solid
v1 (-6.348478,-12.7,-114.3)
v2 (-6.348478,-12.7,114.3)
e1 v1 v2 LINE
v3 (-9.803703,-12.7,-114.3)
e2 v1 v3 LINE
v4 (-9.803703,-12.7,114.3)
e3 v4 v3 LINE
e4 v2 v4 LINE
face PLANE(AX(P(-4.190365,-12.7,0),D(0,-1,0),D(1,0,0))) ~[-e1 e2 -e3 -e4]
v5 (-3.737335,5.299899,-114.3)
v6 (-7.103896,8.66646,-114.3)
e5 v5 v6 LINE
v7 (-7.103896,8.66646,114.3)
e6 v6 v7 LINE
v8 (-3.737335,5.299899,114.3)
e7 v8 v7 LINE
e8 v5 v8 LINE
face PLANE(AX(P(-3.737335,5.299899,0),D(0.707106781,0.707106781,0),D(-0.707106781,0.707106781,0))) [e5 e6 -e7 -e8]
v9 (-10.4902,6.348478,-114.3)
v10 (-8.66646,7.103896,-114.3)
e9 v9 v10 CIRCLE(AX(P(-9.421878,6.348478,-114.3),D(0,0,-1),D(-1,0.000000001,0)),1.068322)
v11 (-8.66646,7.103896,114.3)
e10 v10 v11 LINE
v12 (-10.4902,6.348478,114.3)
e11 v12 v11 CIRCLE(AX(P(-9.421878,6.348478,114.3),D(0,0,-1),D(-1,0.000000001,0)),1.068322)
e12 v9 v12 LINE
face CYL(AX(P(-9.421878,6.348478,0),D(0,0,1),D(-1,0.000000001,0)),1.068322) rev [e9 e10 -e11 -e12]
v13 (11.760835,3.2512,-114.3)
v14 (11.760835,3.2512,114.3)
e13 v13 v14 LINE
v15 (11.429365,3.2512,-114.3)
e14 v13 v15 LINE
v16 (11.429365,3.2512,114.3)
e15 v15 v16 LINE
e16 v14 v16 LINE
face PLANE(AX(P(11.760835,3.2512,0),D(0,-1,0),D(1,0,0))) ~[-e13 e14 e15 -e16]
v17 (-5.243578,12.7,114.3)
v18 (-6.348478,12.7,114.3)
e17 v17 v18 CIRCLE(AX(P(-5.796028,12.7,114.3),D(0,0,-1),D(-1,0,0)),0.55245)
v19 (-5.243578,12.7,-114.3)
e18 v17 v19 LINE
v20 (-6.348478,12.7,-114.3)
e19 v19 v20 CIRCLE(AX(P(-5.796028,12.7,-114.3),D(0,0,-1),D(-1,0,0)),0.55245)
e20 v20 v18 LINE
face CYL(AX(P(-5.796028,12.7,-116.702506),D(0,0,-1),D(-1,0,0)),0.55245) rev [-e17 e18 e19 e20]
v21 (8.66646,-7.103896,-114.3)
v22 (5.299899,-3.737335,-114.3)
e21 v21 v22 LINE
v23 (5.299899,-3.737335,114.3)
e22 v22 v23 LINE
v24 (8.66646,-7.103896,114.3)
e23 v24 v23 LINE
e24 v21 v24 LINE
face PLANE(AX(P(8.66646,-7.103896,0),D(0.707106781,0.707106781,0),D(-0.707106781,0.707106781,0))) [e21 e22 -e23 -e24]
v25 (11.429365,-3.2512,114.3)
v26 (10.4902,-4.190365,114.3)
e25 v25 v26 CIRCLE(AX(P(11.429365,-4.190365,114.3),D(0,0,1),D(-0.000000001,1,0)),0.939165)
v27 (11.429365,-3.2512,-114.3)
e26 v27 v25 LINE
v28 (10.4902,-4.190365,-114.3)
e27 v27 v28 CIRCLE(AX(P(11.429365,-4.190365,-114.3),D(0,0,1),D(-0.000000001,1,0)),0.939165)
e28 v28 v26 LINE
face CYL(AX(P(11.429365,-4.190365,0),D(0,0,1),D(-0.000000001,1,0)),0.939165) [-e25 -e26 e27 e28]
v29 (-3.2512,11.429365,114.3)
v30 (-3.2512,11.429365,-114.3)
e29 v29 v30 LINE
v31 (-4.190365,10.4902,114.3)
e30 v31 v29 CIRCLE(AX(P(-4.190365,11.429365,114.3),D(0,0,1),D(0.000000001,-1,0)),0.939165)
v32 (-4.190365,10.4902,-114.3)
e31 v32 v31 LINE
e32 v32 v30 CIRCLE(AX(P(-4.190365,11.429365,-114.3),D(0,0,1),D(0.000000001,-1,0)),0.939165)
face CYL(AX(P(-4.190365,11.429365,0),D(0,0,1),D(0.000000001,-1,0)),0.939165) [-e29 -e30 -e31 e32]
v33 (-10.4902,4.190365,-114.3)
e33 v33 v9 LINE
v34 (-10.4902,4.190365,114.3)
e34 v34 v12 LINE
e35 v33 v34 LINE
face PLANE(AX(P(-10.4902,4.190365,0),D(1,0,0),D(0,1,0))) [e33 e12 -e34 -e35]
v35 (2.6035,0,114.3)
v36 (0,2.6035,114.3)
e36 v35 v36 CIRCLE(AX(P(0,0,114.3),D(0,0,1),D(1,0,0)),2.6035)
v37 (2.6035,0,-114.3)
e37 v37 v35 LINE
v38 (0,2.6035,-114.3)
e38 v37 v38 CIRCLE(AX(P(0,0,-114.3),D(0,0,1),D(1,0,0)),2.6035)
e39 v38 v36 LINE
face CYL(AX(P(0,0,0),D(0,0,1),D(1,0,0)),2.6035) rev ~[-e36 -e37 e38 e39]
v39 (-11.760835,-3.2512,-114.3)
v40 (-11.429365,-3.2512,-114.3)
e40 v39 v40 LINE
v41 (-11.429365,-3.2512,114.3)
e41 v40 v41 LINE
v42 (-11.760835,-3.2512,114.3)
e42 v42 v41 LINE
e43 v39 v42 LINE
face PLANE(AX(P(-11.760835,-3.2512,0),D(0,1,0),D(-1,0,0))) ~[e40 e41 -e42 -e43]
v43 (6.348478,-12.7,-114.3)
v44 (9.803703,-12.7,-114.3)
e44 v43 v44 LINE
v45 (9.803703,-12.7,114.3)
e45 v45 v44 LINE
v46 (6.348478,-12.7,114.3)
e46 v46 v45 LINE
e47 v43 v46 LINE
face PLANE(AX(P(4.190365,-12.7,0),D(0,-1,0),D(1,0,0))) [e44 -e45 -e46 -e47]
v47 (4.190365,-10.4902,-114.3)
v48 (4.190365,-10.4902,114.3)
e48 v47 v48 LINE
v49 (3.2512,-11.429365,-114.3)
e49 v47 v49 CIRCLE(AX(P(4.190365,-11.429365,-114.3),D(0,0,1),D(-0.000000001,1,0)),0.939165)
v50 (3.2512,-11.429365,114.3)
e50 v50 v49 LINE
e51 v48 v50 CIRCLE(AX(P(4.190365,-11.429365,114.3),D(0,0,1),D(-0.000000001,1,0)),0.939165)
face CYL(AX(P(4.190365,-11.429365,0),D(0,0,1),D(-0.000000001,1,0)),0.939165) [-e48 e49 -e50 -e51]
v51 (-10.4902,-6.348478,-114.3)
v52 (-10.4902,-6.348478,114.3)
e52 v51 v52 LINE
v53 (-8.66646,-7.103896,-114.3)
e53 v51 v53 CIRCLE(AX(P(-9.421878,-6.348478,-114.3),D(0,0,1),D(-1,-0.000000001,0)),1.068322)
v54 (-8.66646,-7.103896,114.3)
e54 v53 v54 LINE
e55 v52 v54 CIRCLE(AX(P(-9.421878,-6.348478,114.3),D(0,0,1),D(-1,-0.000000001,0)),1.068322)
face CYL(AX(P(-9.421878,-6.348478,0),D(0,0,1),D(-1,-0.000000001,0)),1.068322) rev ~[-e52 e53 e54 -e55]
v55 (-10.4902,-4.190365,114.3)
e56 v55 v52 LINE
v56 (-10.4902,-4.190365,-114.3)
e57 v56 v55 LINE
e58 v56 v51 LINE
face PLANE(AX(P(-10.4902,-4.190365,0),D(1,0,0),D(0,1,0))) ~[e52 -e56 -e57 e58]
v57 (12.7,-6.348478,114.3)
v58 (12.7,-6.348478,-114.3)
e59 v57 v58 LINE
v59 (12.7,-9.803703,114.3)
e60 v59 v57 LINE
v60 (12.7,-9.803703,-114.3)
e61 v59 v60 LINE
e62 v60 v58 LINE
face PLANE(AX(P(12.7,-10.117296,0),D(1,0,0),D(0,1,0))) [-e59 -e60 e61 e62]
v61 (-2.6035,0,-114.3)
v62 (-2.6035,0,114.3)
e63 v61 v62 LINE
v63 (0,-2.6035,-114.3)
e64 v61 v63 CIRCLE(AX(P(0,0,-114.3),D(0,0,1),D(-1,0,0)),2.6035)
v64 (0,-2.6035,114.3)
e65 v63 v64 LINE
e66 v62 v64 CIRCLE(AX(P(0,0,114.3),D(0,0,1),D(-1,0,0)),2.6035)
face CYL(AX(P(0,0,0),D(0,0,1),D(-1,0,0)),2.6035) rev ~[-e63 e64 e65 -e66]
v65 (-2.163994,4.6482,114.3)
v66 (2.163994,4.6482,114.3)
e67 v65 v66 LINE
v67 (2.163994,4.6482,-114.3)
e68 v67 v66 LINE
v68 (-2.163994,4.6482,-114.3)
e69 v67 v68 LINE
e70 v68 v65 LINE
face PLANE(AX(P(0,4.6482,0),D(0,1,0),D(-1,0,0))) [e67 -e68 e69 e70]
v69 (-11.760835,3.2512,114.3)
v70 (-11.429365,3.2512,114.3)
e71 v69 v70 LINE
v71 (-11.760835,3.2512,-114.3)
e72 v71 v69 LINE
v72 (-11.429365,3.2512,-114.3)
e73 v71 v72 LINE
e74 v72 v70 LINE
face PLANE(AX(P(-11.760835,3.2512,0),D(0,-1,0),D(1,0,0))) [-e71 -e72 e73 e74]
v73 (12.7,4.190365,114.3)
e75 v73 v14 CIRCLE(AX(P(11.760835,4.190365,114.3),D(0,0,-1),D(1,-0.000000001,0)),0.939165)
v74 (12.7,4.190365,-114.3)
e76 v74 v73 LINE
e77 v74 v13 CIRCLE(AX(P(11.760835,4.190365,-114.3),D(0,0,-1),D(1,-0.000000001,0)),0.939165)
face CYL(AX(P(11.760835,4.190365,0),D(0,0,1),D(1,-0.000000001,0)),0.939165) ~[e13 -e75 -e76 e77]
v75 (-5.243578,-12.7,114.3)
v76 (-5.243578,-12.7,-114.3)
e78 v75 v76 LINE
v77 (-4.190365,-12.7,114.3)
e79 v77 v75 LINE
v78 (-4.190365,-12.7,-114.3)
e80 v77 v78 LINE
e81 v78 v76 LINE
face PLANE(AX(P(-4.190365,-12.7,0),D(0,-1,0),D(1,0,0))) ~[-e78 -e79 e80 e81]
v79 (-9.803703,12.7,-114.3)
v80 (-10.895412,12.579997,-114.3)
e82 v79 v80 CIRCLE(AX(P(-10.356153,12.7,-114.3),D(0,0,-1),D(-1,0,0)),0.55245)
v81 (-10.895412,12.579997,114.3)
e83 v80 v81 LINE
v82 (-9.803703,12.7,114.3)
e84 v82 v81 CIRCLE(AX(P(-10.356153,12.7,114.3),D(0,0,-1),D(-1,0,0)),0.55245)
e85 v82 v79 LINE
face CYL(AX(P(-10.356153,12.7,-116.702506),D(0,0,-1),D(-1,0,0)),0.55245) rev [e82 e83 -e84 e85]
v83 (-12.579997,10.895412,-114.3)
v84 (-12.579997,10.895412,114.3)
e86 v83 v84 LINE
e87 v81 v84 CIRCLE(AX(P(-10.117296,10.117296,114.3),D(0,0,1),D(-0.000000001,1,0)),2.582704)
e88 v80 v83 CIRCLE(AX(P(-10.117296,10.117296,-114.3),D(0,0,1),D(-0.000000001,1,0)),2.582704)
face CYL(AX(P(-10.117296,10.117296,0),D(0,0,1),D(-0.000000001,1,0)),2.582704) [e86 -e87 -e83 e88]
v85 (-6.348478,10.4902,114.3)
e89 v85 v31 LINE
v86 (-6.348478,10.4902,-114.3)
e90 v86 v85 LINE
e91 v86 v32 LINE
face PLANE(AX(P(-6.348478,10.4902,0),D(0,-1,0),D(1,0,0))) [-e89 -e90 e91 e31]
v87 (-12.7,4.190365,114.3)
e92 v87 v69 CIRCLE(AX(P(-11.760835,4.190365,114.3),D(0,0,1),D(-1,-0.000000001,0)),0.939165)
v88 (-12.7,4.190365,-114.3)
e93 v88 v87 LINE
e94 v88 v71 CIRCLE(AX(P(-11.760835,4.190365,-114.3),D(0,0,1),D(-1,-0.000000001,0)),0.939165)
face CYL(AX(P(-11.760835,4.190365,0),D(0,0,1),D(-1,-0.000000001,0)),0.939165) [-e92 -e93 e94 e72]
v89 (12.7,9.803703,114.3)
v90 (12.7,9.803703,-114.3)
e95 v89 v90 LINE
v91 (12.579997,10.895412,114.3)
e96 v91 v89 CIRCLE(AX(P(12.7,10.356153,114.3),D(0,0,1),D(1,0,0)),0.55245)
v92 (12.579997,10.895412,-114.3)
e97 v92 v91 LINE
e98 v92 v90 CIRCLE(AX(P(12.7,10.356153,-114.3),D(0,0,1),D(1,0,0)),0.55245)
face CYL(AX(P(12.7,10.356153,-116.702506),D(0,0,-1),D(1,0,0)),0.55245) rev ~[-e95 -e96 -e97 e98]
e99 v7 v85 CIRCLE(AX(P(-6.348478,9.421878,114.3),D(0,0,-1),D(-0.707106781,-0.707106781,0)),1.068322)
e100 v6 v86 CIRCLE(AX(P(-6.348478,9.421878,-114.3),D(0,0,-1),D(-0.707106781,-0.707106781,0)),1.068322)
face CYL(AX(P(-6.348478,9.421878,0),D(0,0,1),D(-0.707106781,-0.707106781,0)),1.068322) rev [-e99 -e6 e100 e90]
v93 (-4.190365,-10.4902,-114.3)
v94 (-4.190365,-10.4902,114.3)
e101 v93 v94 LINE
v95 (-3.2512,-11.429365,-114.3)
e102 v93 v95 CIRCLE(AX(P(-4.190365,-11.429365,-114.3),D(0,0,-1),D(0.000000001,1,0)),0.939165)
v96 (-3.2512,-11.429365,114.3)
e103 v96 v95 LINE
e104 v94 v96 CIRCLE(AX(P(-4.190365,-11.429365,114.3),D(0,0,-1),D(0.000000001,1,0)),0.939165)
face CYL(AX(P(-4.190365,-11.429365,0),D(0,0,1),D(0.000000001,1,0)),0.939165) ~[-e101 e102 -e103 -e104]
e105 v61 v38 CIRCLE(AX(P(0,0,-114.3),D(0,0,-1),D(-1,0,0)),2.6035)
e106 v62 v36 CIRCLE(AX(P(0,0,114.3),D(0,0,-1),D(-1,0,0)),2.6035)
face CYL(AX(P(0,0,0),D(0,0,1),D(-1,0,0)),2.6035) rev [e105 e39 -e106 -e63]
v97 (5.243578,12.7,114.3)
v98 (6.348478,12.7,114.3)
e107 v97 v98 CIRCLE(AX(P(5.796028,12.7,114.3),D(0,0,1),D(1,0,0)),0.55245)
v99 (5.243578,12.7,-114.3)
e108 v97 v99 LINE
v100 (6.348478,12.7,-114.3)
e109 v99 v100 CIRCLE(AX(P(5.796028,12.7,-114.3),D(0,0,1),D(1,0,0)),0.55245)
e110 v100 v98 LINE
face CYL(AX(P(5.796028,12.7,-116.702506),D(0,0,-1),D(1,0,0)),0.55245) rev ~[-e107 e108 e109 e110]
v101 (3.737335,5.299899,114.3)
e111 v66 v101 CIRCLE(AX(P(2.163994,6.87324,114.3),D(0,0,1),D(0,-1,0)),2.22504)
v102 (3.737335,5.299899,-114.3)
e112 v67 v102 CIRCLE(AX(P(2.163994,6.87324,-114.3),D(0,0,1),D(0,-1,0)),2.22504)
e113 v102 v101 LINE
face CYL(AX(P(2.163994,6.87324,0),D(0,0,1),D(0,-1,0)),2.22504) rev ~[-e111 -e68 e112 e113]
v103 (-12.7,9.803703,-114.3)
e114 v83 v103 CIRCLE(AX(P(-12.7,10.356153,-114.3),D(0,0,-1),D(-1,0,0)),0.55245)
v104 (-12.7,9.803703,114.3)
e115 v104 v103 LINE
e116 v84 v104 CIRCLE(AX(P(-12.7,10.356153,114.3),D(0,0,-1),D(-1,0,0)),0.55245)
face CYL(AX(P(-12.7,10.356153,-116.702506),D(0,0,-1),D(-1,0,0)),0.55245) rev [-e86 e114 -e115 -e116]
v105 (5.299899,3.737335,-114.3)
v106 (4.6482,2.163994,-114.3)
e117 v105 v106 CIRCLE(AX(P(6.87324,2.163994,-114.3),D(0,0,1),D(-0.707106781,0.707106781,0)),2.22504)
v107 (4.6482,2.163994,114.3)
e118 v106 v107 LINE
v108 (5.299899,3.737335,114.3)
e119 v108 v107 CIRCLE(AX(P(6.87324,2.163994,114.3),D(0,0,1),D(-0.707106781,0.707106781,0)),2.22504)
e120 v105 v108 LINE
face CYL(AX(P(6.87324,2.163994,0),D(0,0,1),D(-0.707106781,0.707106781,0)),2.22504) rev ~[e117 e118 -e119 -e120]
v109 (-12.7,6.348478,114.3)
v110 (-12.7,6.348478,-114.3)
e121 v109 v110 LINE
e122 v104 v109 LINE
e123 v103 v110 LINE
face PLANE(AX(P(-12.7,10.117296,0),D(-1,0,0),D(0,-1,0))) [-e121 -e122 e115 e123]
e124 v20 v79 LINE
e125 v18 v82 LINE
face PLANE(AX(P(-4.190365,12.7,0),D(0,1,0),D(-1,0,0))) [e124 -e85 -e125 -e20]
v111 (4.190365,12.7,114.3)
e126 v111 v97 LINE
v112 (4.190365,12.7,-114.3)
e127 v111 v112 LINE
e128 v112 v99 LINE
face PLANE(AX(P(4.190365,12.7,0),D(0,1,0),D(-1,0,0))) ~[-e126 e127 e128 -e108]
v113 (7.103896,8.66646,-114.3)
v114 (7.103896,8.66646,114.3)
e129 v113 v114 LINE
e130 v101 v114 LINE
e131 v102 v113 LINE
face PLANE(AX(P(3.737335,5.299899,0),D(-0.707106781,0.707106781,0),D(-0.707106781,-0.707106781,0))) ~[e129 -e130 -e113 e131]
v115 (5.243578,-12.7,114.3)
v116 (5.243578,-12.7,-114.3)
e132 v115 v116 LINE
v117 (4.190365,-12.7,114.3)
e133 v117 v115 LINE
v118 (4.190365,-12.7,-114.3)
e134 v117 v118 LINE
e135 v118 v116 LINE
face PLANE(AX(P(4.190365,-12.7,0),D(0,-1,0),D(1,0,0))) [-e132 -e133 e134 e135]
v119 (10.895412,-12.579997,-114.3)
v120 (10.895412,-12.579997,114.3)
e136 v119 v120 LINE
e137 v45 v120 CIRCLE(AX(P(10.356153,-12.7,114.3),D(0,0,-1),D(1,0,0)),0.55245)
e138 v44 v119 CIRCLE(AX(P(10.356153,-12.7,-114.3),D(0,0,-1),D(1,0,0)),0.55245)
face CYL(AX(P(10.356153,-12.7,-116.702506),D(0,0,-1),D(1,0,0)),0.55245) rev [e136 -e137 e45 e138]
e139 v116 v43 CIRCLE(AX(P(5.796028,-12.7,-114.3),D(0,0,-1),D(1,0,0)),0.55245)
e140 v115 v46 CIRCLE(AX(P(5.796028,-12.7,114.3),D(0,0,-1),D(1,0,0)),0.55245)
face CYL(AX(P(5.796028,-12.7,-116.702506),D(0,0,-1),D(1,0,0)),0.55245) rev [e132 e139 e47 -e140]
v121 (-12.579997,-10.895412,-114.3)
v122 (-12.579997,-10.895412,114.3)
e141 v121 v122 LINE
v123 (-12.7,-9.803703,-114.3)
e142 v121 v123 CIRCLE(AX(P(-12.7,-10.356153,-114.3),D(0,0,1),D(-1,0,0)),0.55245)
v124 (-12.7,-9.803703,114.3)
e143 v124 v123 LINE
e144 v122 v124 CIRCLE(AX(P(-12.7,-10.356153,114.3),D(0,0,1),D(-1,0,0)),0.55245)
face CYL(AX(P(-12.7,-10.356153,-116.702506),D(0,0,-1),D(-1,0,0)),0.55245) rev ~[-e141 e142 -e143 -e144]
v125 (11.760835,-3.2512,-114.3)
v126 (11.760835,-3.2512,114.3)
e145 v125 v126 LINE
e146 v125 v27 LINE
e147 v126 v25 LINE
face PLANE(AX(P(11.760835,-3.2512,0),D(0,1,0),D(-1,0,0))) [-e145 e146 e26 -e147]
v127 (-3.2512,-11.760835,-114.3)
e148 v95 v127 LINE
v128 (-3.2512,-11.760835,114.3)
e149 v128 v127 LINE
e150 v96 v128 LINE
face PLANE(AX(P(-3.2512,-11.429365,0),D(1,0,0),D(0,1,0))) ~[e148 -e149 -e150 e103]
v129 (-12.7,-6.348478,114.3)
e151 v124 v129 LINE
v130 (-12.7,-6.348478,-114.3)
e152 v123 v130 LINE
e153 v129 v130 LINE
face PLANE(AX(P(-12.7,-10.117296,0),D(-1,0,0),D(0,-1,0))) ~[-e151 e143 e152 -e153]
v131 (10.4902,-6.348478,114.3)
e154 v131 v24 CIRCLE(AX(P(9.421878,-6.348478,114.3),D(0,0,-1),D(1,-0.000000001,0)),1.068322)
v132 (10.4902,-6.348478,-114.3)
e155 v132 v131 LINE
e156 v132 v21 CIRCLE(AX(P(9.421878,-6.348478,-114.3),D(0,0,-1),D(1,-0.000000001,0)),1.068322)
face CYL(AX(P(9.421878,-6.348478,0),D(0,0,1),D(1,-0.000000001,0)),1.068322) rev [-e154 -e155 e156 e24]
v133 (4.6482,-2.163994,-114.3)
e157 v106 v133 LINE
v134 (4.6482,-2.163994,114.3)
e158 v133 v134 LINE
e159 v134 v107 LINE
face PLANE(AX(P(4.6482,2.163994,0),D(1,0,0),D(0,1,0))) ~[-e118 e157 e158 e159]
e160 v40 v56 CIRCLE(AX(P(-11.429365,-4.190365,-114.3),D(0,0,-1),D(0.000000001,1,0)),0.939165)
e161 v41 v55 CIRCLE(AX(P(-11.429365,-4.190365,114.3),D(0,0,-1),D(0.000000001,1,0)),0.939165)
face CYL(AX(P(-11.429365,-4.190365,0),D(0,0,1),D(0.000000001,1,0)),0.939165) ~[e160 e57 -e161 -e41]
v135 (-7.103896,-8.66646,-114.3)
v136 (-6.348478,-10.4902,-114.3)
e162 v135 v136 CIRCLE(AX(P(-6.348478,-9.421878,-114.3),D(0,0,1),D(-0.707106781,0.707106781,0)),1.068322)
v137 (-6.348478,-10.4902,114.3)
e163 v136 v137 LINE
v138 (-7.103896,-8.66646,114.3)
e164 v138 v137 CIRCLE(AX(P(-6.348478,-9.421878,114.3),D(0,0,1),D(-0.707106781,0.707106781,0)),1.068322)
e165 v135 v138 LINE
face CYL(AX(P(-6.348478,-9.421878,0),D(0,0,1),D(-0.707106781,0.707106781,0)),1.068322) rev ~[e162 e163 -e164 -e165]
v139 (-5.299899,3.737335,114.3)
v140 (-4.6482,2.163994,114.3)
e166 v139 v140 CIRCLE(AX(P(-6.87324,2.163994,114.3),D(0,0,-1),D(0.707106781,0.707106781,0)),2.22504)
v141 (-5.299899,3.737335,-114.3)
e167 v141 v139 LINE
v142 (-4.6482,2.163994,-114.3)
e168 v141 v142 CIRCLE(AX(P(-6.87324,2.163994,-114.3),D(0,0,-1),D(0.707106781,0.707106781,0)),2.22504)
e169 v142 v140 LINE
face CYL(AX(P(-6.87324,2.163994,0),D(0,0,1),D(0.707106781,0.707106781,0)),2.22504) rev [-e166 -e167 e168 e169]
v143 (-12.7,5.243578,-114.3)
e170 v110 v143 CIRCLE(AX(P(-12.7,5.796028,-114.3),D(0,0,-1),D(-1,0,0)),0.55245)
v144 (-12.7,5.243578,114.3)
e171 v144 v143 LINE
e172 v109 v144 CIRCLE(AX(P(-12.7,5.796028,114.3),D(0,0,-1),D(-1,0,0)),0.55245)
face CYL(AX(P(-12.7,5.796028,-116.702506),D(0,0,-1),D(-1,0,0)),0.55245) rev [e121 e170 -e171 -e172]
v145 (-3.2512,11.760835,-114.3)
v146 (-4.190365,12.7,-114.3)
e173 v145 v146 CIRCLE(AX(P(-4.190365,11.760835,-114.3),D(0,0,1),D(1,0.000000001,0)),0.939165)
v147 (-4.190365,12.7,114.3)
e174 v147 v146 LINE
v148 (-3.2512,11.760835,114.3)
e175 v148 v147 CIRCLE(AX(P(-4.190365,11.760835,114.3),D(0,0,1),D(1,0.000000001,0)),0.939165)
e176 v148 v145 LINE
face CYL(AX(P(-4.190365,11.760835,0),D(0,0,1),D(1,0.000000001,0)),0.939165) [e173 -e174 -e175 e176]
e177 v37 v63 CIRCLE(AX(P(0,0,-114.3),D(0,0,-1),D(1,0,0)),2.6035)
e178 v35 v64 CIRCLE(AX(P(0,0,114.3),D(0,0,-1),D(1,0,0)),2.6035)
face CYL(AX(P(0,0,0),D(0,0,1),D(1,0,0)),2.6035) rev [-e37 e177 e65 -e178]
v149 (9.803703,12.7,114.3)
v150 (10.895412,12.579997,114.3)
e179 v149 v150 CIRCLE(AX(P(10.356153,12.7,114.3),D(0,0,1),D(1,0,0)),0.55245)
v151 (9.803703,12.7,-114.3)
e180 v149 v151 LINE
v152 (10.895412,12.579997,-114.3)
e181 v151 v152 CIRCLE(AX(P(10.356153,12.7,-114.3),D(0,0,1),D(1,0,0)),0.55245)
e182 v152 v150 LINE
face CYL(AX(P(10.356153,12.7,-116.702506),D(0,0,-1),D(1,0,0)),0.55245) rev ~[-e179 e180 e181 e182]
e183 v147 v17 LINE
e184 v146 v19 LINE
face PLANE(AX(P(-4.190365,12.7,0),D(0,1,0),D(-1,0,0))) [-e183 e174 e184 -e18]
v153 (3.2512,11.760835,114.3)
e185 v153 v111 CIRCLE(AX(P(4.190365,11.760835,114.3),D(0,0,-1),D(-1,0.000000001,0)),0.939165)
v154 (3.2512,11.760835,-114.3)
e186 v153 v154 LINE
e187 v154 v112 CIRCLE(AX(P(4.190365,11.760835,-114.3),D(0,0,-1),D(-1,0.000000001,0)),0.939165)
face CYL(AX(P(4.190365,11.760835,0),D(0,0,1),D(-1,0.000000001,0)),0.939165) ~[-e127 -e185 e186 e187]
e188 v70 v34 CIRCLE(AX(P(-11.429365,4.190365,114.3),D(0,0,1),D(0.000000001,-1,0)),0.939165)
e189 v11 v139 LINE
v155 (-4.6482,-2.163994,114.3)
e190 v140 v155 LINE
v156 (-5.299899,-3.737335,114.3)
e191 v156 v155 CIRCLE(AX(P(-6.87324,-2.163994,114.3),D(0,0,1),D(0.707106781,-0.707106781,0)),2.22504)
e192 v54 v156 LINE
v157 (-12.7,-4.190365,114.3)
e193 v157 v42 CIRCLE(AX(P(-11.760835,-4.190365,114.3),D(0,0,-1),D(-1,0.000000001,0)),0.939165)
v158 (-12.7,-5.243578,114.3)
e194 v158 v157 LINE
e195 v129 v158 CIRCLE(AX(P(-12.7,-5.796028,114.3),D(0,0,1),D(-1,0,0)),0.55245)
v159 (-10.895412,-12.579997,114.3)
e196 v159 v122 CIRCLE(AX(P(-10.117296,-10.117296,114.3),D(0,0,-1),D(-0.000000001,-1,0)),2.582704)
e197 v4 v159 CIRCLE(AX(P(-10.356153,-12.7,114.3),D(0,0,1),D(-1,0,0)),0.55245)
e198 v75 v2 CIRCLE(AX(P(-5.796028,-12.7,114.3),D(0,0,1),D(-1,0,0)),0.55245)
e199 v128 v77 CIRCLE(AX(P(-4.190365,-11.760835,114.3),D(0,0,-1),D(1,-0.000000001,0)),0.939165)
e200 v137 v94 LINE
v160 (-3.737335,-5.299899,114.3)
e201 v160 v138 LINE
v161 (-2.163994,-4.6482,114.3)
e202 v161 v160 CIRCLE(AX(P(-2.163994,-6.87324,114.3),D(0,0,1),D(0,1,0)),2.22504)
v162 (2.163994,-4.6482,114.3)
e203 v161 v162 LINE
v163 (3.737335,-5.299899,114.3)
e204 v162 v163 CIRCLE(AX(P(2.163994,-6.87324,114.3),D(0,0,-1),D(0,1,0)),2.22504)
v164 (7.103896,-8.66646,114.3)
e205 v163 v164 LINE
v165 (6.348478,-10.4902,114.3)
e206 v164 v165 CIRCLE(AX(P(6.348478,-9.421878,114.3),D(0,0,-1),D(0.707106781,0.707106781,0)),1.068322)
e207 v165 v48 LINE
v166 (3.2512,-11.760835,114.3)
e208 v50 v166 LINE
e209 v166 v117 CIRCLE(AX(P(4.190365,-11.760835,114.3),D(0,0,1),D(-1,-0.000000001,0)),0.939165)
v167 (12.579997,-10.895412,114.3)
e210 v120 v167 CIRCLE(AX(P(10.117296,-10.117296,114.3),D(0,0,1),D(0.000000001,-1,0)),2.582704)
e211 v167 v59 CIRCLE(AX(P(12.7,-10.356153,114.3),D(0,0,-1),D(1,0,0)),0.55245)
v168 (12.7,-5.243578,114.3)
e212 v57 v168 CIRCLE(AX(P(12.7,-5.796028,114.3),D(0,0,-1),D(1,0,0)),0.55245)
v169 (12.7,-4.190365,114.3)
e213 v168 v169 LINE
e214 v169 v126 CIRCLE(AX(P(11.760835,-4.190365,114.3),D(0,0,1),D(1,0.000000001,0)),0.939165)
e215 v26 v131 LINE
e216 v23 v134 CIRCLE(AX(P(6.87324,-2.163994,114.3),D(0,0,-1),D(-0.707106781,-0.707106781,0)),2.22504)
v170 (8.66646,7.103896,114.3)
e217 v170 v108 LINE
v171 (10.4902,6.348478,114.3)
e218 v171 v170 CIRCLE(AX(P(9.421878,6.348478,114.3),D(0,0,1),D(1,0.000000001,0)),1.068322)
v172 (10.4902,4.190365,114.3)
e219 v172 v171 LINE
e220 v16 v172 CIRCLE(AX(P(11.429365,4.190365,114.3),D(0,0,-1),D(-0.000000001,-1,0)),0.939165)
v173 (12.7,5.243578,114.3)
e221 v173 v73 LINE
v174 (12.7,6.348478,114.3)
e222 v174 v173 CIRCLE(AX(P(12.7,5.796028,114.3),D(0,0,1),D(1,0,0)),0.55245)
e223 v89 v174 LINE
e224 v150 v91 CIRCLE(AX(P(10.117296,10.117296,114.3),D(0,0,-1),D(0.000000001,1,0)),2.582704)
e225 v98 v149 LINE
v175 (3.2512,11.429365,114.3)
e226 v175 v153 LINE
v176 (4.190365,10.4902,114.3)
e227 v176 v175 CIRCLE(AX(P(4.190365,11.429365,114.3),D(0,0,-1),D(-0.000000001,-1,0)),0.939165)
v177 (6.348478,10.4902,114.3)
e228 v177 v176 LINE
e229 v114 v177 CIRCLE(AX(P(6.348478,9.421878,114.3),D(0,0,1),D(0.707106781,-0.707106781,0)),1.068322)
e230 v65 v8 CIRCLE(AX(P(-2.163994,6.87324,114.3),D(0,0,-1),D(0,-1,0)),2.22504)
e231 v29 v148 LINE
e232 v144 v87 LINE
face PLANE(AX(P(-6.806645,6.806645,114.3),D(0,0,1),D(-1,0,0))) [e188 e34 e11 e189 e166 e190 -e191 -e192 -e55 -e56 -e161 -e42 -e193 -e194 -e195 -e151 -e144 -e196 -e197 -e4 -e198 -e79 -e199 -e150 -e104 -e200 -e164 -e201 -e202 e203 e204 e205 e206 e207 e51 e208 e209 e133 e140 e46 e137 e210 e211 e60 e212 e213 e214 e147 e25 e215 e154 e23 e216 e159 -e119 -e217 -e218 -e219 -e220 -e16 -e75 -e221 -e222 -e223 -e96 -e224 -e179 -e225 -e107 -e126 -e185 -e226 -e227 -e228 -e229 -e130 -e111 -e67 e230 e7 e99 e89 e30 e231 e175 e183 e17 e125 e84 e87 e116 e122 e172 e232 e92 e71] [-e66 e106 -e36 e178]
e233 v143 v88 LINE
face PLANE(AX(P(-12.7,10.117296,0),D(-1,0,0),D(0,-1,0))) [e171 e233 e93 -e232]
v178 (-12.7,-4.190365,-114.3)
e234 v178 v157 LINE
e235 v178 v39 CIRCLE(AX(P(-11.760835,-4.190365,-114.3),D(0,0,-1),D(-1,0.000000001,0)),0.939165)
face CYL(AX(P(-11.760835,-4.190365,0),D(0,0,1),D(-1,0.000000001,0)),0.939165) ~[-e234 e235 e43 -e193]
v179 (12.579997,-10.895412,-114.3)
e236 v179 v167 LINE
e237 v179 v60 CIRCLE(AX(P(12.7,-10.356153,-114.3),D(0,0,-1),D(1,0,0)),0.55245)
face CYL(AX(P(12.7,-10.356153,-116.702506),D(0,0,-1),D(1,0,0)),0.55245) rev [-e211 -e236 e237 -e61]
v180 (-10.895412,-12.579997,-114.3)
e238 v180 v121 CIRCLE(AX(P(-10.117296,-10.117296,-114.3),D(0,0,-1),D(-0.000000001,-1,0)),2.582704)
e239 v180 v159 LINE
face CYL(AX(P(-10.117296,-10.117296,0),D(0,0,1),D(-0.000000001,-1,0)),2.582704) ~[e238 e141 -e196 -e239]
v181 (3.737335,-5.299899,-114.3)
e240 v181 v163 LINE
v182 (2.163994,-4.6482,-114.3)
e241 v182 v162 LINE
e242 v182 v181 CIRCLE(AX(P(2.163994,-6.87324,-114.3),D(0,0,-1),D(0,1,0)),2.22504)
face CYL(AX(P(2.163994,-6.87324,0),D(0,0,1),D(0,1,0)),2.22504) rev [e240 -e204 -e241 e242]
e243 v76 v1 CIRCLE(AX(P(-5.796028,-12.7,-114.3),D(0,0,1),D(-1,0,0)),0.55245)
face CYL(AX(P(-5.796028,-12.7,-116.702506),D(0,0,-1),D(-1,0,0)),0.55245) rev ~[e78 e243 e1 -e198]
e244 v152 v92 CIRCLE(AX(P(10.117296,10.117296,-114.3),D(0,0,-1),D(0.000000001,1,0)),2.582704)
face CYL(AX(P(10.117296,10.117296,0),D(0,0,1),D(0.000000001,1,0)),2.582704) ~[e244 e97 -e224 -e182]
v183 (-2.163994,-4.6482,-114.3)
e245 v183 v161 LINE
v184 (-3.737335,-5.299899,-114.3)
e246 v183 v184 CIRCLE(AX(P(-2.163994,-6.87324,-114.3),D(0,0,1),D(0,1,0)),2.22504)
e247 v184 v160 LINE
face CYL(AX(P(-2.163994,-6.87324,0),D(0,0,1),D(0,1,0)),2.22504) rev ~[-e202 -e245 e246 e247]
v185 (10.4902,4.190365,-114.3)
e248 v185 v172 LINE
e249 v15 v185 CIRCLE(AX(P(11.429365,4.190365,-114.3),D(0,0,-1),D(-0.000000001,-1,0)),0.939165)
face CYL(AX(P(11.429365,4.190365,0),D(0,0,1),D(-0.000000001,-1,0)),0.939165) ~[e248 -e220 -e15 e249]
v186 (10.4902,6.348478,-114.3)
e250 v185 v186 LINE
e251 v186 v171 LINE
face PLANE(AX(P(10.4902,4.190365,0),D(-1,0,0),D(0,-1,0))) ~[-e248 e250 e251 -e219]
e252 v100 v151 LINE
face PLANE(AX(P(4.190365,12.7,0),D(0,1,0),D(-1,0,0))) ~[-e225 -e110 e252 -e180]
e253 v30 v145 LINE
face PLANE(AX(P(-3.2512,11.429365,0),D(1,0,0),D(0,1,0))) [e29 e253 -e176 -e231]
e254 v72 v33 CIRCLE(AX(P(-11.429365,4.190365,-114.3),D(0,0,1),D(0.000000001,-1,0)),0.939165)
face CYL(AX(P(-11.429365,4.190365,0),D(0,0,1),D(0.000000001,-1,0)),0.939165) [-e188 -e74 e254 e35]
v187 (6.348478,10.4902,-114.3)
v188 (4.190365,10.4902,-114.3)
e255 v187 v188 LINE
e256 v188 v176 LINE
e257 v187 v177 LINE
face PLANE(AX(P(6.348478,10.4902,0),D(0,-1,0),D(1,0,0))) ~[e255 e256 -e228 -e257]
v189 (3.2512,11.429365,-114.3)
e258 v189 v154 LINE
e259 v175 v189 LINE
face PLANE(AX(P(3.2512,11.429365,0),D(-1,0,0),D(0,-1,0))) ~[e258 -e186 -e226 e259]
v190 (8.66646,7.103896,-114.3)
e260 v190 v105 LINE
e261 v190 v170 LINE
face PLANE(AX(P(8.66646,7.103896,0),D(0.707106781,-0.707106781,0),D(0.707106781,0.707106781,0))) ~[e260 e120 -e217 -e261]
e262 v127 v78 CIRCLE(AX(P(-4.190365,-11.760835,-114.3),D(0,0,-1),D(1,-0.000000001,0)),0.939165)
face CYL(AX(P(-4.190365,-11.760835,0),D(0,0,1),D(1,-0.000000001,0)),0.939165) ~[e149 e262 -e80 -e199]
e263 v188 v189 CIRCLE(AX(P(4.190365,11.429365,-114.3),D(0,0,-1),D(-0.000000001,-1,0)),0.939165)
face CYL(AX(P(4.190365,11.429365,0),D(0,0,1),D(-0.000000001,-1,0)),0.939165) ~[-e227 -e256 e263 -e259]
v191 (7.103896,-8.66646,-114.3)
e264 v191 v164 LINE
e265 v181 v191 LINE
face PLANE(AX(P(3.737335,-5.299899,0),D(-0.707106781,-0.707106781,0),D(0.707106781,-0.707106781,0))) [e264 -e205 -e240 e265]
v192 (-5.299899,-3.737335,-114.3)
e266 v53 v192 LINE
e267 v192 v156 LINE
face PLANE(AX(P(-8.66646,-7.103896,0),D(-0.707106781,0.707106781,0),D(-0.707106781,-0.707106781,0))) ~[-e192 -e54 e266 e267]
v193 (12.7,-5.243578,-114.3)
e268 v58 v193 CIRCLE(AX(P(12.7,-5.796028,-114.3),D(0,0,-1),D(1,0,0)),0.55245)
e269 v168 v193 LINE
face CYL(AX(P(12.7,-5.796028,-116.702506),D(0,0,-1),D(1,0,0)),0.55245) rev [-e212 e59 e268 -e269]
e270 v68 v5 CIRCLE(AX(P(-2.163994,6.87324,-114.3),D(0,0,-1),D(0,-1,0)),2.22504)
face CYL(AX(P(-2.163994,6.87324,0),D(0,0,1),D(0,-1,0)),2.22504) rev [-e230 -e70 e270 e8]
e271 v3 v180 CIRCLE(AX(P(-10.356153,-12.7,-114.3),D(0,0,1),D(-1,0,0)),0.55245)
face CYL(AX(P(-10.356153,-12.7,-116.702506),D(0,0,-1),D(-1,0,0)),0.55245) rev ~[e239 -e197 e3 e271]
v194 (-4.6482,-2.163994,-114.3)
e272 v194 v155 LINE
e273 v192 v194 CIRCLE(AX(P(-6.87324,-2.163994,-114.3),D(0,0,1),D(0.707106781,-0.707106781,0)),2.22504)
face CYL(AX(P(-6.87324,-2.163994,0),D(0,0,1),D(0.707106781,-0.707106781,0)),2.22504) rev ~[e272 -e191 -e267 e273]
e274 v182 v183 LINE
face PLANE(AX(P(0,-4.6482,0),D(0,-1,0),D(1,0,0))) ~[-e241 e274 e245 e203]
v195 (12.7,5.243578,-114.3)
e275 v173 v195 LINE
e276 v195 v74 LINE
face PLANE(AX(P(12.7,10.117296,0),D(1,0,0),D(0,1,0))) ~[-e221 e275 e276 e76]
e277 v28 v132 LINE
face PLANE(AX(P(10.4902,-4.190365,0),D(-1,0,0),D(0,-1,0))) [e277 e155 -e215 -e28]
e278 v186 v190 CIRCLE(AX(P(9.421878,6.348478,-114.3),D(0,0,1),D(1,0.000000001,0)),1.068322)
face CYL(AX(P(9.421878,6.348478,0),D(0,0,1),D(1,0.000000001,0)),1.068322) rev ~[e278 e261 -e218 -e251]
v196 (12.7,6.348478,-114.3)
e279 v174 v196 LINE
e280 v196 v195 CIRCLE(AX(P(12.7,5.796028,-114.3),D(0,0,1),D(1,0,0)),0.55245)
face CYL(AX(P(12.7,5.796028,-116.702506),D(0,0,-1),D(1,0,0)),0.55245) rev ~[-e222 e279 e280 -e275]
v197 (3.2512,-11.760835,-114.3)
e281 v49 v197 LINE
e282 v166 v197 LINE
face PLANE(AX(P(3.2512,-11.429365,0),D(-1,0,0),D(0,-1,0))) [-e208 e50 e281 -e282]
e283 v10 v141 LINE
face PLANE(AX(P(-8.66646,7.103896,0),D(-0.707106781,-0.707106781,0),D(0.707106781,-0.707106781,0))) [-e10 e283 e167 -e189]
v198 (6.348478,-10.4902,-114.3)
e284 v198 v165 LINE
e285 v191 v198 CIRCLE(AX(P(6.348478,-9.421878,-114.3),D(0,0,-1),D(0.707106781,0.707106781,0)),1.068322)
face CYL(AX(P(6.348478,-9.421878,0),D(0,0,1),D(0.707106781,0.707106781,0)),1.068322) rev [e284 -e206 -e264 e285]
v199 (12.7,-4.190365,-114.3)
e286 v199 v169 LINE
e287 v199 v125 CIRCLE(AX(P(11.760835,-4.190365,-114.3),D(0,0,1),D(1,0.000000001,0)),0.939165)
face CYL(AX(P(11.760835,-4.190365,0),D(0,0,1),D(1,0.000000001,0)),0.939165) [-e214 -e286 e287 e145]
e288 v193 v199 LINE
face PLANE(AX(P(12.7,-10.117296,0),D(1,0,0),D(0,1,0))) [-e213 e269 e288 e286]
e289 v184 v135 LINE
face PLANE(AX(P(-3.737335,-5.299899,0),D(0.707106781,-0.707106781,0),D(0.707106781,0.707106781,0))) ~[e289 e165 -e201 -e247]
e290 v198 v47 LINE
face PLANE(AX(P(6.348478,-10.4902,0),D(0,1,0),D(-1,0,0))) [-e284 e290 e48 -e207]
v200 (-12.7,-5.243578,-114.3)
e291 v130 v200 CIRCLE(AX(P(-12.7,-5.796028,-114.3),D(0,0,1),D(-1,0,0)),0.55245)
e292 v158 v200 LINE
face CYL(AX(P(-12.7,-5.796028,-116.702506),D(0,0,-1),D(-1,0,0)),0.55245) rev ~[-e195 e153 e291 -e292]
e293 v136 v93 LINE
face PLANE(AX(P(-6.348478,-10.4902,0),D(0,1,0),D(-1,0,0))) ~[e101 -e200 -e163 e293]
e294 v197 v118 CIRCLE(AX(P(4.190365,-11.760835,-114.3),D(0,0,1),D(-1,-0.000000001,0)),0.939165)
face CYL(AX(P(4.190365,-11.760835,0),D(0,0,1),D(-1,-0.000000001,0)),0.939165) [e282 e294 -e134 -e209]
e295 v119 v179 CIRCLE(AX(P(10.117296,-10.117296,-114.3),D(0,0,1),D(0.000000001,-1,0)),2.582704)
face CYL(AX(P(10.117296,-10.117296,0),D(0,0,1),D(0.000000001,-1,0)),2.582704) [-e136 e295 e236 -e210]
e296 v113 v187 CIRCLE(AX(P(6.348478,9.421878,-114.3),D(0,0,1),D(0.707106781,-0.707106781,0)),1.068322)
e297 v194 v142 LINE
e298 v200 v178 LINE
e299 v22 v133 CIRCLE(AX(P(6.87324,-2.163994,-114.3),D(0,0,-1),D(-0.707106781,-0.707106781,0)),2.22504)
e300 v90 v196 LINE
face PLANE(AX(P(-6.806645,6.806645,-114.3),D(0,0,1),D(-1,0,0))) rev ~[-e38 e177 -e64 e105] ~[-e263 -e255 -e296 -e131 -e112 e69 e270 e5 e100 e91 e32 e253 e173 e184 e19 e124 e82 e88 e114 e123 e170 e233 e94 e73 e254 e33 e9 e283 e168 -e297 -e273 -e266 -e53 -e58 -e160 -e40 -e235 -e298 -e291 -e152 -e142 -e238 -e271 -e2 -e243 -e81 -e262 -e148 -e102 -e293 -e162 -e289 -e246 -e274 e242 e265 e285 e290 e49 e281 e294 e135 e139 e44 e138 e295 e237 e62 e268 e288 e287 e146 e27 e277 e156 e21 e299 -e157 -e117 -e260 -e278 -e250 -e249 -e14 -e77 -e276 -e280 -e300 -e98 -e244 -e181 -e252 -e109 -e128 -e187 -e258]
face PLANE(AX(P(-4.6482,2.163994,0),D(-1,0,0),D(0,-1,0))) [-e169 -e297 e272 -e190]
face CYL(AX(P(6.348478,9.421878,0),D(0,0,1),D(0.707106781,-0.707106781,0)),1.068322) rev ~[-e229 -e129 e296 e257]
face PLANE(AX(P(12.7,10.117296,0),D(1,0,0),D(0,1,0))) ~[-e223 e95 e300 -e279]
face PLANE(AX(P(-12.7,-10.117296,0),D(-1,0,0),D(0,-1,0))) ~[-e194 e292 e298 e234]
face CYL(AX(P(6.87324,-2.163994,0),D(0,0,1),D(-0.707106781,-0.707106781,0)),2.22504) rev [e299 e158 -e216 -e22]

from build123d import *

# Parameters (mm, degrees)
BOSS_EXTRUDE1_DEPTH     = 114.3
CUT_EXTRUDE1_DEPTH      = 116.702506455
CUT_EXTRUDE1_DEPTH_BACK = 116.702506455
SKETCH5_R               = 0.55245


with BuildPart() as part:
    # Sketch4 → Boss-Extrude1 (new, symmetric)
    with BuildSketch(Plane.XY):
        with BuildLine():
            Line((4.190365, -12.7), (10.11729625, -12.7))
            ThreePointArc((10.11729625, -12.7), (11.943543585, -11.943543585), (12.7, -10.11729625))
            Line((12.7, -10.11729625), (12.7, -4.190365))
            ThreePointArc((12.7, -4.190365), (12.42492494, -3.52627506), (11.760835, -3.2512))
            Line((11.760835, -3.2512), (11.429365, -3.2512))
            ThreePointArc((11.429365, -3.2512), (10.76527506, -3.52627506), (10.4902, -4.190365))
            Line((10.4902, -4.190365), (10.4902, -6.348478019))
            ThreePointArc((10.4902, -6.348478019), (9.830707141, -7.335478831), (8.666460301, -7.103895736))
            Line((8.666460301, -7.103895736), (5.299899128, -3.737334563))
            ThreePointArc((5.299899128, -3.737334563), (4.817571085, -3.015479634), (4.6482, -2.16399369))
            Line((4.6482, -2.16399369), (4.6482, 0))
            Line((4.6482, 0), (2.6035, 0))
            ThreePointArc((2.6035, 0), (1.840952505, -1.840952505), (0, -2.6035))
            Line((0, -2.6035), (0, -4.6482))
            Line((0, -4.6482), (2.16399369, -4.6482))
            ThreePointArc((2.16399369, -4.6482), (3.015479634, -4.817571085), (3.737334563, -5.299899128))
            Line((3.737334563, -5.299899128), (7.103895736, -8.666460301))
            ThreePointArc((7.103895736, -8.666460301), (7.335478831, -9.830707141), (6.348478019, -10.4902))
            Line((6.348478019, -10.4902), (4.190365, -10.4902))
            ThreePointArc((4.190365, -10.4902), (3.52627506, -10.76527506), (3.2512, -11.429365))
            Line((3.2512, -11.429365), (3.2512, -11.760835))
            ThreePointArc((3.2512, -11.760835), (3.52627506, -12.42492494), (4.190365, -12.7))
        make_face()
    extrude(amount=BOSS_EXTRUDE1_DEPTH, both=True)

    # Sketch5 → Cut-Extrude1 (cut, two sides: drawn at the far end of the back side and taken through both)
    with BuildSketch(Plane.XY.offset(-CUT_EXTRUDE1_DEPTH_BACK)):
        with Locations((10.356153152, -12.7)):
            Circle(SKETCH5_R)
        with Locations((5.796028019, -12.7)):
            Circle(SKETCH5_R)
        with Locations((12.7, -10.356153152)):
            Circle(SKETCH5_R)
        with Locations((12.7, -5.796028019)):
            Circle(SKETCH5_R)
    extrude(amount=CUT_EXTRUDE1_DEPTH + CUT_EXTRUDE1_DEPTH_BACK, mode=Mode.SUBTRACT)

    # Mirror1: part across plane


with BuildPart() as part_1:
    add(part.part)
    add(part.part.mirror(Plane(origin=(0, 0, 0), x_dir=(0, 0, 1), z_dir=(1, 0, 0))))

    # Mirror2: part across plane


with BuildPart() as part_2:
    add(part_1.part)
    add(part_1.part.mirror(Plane.ZX))


solid = part_2.part
